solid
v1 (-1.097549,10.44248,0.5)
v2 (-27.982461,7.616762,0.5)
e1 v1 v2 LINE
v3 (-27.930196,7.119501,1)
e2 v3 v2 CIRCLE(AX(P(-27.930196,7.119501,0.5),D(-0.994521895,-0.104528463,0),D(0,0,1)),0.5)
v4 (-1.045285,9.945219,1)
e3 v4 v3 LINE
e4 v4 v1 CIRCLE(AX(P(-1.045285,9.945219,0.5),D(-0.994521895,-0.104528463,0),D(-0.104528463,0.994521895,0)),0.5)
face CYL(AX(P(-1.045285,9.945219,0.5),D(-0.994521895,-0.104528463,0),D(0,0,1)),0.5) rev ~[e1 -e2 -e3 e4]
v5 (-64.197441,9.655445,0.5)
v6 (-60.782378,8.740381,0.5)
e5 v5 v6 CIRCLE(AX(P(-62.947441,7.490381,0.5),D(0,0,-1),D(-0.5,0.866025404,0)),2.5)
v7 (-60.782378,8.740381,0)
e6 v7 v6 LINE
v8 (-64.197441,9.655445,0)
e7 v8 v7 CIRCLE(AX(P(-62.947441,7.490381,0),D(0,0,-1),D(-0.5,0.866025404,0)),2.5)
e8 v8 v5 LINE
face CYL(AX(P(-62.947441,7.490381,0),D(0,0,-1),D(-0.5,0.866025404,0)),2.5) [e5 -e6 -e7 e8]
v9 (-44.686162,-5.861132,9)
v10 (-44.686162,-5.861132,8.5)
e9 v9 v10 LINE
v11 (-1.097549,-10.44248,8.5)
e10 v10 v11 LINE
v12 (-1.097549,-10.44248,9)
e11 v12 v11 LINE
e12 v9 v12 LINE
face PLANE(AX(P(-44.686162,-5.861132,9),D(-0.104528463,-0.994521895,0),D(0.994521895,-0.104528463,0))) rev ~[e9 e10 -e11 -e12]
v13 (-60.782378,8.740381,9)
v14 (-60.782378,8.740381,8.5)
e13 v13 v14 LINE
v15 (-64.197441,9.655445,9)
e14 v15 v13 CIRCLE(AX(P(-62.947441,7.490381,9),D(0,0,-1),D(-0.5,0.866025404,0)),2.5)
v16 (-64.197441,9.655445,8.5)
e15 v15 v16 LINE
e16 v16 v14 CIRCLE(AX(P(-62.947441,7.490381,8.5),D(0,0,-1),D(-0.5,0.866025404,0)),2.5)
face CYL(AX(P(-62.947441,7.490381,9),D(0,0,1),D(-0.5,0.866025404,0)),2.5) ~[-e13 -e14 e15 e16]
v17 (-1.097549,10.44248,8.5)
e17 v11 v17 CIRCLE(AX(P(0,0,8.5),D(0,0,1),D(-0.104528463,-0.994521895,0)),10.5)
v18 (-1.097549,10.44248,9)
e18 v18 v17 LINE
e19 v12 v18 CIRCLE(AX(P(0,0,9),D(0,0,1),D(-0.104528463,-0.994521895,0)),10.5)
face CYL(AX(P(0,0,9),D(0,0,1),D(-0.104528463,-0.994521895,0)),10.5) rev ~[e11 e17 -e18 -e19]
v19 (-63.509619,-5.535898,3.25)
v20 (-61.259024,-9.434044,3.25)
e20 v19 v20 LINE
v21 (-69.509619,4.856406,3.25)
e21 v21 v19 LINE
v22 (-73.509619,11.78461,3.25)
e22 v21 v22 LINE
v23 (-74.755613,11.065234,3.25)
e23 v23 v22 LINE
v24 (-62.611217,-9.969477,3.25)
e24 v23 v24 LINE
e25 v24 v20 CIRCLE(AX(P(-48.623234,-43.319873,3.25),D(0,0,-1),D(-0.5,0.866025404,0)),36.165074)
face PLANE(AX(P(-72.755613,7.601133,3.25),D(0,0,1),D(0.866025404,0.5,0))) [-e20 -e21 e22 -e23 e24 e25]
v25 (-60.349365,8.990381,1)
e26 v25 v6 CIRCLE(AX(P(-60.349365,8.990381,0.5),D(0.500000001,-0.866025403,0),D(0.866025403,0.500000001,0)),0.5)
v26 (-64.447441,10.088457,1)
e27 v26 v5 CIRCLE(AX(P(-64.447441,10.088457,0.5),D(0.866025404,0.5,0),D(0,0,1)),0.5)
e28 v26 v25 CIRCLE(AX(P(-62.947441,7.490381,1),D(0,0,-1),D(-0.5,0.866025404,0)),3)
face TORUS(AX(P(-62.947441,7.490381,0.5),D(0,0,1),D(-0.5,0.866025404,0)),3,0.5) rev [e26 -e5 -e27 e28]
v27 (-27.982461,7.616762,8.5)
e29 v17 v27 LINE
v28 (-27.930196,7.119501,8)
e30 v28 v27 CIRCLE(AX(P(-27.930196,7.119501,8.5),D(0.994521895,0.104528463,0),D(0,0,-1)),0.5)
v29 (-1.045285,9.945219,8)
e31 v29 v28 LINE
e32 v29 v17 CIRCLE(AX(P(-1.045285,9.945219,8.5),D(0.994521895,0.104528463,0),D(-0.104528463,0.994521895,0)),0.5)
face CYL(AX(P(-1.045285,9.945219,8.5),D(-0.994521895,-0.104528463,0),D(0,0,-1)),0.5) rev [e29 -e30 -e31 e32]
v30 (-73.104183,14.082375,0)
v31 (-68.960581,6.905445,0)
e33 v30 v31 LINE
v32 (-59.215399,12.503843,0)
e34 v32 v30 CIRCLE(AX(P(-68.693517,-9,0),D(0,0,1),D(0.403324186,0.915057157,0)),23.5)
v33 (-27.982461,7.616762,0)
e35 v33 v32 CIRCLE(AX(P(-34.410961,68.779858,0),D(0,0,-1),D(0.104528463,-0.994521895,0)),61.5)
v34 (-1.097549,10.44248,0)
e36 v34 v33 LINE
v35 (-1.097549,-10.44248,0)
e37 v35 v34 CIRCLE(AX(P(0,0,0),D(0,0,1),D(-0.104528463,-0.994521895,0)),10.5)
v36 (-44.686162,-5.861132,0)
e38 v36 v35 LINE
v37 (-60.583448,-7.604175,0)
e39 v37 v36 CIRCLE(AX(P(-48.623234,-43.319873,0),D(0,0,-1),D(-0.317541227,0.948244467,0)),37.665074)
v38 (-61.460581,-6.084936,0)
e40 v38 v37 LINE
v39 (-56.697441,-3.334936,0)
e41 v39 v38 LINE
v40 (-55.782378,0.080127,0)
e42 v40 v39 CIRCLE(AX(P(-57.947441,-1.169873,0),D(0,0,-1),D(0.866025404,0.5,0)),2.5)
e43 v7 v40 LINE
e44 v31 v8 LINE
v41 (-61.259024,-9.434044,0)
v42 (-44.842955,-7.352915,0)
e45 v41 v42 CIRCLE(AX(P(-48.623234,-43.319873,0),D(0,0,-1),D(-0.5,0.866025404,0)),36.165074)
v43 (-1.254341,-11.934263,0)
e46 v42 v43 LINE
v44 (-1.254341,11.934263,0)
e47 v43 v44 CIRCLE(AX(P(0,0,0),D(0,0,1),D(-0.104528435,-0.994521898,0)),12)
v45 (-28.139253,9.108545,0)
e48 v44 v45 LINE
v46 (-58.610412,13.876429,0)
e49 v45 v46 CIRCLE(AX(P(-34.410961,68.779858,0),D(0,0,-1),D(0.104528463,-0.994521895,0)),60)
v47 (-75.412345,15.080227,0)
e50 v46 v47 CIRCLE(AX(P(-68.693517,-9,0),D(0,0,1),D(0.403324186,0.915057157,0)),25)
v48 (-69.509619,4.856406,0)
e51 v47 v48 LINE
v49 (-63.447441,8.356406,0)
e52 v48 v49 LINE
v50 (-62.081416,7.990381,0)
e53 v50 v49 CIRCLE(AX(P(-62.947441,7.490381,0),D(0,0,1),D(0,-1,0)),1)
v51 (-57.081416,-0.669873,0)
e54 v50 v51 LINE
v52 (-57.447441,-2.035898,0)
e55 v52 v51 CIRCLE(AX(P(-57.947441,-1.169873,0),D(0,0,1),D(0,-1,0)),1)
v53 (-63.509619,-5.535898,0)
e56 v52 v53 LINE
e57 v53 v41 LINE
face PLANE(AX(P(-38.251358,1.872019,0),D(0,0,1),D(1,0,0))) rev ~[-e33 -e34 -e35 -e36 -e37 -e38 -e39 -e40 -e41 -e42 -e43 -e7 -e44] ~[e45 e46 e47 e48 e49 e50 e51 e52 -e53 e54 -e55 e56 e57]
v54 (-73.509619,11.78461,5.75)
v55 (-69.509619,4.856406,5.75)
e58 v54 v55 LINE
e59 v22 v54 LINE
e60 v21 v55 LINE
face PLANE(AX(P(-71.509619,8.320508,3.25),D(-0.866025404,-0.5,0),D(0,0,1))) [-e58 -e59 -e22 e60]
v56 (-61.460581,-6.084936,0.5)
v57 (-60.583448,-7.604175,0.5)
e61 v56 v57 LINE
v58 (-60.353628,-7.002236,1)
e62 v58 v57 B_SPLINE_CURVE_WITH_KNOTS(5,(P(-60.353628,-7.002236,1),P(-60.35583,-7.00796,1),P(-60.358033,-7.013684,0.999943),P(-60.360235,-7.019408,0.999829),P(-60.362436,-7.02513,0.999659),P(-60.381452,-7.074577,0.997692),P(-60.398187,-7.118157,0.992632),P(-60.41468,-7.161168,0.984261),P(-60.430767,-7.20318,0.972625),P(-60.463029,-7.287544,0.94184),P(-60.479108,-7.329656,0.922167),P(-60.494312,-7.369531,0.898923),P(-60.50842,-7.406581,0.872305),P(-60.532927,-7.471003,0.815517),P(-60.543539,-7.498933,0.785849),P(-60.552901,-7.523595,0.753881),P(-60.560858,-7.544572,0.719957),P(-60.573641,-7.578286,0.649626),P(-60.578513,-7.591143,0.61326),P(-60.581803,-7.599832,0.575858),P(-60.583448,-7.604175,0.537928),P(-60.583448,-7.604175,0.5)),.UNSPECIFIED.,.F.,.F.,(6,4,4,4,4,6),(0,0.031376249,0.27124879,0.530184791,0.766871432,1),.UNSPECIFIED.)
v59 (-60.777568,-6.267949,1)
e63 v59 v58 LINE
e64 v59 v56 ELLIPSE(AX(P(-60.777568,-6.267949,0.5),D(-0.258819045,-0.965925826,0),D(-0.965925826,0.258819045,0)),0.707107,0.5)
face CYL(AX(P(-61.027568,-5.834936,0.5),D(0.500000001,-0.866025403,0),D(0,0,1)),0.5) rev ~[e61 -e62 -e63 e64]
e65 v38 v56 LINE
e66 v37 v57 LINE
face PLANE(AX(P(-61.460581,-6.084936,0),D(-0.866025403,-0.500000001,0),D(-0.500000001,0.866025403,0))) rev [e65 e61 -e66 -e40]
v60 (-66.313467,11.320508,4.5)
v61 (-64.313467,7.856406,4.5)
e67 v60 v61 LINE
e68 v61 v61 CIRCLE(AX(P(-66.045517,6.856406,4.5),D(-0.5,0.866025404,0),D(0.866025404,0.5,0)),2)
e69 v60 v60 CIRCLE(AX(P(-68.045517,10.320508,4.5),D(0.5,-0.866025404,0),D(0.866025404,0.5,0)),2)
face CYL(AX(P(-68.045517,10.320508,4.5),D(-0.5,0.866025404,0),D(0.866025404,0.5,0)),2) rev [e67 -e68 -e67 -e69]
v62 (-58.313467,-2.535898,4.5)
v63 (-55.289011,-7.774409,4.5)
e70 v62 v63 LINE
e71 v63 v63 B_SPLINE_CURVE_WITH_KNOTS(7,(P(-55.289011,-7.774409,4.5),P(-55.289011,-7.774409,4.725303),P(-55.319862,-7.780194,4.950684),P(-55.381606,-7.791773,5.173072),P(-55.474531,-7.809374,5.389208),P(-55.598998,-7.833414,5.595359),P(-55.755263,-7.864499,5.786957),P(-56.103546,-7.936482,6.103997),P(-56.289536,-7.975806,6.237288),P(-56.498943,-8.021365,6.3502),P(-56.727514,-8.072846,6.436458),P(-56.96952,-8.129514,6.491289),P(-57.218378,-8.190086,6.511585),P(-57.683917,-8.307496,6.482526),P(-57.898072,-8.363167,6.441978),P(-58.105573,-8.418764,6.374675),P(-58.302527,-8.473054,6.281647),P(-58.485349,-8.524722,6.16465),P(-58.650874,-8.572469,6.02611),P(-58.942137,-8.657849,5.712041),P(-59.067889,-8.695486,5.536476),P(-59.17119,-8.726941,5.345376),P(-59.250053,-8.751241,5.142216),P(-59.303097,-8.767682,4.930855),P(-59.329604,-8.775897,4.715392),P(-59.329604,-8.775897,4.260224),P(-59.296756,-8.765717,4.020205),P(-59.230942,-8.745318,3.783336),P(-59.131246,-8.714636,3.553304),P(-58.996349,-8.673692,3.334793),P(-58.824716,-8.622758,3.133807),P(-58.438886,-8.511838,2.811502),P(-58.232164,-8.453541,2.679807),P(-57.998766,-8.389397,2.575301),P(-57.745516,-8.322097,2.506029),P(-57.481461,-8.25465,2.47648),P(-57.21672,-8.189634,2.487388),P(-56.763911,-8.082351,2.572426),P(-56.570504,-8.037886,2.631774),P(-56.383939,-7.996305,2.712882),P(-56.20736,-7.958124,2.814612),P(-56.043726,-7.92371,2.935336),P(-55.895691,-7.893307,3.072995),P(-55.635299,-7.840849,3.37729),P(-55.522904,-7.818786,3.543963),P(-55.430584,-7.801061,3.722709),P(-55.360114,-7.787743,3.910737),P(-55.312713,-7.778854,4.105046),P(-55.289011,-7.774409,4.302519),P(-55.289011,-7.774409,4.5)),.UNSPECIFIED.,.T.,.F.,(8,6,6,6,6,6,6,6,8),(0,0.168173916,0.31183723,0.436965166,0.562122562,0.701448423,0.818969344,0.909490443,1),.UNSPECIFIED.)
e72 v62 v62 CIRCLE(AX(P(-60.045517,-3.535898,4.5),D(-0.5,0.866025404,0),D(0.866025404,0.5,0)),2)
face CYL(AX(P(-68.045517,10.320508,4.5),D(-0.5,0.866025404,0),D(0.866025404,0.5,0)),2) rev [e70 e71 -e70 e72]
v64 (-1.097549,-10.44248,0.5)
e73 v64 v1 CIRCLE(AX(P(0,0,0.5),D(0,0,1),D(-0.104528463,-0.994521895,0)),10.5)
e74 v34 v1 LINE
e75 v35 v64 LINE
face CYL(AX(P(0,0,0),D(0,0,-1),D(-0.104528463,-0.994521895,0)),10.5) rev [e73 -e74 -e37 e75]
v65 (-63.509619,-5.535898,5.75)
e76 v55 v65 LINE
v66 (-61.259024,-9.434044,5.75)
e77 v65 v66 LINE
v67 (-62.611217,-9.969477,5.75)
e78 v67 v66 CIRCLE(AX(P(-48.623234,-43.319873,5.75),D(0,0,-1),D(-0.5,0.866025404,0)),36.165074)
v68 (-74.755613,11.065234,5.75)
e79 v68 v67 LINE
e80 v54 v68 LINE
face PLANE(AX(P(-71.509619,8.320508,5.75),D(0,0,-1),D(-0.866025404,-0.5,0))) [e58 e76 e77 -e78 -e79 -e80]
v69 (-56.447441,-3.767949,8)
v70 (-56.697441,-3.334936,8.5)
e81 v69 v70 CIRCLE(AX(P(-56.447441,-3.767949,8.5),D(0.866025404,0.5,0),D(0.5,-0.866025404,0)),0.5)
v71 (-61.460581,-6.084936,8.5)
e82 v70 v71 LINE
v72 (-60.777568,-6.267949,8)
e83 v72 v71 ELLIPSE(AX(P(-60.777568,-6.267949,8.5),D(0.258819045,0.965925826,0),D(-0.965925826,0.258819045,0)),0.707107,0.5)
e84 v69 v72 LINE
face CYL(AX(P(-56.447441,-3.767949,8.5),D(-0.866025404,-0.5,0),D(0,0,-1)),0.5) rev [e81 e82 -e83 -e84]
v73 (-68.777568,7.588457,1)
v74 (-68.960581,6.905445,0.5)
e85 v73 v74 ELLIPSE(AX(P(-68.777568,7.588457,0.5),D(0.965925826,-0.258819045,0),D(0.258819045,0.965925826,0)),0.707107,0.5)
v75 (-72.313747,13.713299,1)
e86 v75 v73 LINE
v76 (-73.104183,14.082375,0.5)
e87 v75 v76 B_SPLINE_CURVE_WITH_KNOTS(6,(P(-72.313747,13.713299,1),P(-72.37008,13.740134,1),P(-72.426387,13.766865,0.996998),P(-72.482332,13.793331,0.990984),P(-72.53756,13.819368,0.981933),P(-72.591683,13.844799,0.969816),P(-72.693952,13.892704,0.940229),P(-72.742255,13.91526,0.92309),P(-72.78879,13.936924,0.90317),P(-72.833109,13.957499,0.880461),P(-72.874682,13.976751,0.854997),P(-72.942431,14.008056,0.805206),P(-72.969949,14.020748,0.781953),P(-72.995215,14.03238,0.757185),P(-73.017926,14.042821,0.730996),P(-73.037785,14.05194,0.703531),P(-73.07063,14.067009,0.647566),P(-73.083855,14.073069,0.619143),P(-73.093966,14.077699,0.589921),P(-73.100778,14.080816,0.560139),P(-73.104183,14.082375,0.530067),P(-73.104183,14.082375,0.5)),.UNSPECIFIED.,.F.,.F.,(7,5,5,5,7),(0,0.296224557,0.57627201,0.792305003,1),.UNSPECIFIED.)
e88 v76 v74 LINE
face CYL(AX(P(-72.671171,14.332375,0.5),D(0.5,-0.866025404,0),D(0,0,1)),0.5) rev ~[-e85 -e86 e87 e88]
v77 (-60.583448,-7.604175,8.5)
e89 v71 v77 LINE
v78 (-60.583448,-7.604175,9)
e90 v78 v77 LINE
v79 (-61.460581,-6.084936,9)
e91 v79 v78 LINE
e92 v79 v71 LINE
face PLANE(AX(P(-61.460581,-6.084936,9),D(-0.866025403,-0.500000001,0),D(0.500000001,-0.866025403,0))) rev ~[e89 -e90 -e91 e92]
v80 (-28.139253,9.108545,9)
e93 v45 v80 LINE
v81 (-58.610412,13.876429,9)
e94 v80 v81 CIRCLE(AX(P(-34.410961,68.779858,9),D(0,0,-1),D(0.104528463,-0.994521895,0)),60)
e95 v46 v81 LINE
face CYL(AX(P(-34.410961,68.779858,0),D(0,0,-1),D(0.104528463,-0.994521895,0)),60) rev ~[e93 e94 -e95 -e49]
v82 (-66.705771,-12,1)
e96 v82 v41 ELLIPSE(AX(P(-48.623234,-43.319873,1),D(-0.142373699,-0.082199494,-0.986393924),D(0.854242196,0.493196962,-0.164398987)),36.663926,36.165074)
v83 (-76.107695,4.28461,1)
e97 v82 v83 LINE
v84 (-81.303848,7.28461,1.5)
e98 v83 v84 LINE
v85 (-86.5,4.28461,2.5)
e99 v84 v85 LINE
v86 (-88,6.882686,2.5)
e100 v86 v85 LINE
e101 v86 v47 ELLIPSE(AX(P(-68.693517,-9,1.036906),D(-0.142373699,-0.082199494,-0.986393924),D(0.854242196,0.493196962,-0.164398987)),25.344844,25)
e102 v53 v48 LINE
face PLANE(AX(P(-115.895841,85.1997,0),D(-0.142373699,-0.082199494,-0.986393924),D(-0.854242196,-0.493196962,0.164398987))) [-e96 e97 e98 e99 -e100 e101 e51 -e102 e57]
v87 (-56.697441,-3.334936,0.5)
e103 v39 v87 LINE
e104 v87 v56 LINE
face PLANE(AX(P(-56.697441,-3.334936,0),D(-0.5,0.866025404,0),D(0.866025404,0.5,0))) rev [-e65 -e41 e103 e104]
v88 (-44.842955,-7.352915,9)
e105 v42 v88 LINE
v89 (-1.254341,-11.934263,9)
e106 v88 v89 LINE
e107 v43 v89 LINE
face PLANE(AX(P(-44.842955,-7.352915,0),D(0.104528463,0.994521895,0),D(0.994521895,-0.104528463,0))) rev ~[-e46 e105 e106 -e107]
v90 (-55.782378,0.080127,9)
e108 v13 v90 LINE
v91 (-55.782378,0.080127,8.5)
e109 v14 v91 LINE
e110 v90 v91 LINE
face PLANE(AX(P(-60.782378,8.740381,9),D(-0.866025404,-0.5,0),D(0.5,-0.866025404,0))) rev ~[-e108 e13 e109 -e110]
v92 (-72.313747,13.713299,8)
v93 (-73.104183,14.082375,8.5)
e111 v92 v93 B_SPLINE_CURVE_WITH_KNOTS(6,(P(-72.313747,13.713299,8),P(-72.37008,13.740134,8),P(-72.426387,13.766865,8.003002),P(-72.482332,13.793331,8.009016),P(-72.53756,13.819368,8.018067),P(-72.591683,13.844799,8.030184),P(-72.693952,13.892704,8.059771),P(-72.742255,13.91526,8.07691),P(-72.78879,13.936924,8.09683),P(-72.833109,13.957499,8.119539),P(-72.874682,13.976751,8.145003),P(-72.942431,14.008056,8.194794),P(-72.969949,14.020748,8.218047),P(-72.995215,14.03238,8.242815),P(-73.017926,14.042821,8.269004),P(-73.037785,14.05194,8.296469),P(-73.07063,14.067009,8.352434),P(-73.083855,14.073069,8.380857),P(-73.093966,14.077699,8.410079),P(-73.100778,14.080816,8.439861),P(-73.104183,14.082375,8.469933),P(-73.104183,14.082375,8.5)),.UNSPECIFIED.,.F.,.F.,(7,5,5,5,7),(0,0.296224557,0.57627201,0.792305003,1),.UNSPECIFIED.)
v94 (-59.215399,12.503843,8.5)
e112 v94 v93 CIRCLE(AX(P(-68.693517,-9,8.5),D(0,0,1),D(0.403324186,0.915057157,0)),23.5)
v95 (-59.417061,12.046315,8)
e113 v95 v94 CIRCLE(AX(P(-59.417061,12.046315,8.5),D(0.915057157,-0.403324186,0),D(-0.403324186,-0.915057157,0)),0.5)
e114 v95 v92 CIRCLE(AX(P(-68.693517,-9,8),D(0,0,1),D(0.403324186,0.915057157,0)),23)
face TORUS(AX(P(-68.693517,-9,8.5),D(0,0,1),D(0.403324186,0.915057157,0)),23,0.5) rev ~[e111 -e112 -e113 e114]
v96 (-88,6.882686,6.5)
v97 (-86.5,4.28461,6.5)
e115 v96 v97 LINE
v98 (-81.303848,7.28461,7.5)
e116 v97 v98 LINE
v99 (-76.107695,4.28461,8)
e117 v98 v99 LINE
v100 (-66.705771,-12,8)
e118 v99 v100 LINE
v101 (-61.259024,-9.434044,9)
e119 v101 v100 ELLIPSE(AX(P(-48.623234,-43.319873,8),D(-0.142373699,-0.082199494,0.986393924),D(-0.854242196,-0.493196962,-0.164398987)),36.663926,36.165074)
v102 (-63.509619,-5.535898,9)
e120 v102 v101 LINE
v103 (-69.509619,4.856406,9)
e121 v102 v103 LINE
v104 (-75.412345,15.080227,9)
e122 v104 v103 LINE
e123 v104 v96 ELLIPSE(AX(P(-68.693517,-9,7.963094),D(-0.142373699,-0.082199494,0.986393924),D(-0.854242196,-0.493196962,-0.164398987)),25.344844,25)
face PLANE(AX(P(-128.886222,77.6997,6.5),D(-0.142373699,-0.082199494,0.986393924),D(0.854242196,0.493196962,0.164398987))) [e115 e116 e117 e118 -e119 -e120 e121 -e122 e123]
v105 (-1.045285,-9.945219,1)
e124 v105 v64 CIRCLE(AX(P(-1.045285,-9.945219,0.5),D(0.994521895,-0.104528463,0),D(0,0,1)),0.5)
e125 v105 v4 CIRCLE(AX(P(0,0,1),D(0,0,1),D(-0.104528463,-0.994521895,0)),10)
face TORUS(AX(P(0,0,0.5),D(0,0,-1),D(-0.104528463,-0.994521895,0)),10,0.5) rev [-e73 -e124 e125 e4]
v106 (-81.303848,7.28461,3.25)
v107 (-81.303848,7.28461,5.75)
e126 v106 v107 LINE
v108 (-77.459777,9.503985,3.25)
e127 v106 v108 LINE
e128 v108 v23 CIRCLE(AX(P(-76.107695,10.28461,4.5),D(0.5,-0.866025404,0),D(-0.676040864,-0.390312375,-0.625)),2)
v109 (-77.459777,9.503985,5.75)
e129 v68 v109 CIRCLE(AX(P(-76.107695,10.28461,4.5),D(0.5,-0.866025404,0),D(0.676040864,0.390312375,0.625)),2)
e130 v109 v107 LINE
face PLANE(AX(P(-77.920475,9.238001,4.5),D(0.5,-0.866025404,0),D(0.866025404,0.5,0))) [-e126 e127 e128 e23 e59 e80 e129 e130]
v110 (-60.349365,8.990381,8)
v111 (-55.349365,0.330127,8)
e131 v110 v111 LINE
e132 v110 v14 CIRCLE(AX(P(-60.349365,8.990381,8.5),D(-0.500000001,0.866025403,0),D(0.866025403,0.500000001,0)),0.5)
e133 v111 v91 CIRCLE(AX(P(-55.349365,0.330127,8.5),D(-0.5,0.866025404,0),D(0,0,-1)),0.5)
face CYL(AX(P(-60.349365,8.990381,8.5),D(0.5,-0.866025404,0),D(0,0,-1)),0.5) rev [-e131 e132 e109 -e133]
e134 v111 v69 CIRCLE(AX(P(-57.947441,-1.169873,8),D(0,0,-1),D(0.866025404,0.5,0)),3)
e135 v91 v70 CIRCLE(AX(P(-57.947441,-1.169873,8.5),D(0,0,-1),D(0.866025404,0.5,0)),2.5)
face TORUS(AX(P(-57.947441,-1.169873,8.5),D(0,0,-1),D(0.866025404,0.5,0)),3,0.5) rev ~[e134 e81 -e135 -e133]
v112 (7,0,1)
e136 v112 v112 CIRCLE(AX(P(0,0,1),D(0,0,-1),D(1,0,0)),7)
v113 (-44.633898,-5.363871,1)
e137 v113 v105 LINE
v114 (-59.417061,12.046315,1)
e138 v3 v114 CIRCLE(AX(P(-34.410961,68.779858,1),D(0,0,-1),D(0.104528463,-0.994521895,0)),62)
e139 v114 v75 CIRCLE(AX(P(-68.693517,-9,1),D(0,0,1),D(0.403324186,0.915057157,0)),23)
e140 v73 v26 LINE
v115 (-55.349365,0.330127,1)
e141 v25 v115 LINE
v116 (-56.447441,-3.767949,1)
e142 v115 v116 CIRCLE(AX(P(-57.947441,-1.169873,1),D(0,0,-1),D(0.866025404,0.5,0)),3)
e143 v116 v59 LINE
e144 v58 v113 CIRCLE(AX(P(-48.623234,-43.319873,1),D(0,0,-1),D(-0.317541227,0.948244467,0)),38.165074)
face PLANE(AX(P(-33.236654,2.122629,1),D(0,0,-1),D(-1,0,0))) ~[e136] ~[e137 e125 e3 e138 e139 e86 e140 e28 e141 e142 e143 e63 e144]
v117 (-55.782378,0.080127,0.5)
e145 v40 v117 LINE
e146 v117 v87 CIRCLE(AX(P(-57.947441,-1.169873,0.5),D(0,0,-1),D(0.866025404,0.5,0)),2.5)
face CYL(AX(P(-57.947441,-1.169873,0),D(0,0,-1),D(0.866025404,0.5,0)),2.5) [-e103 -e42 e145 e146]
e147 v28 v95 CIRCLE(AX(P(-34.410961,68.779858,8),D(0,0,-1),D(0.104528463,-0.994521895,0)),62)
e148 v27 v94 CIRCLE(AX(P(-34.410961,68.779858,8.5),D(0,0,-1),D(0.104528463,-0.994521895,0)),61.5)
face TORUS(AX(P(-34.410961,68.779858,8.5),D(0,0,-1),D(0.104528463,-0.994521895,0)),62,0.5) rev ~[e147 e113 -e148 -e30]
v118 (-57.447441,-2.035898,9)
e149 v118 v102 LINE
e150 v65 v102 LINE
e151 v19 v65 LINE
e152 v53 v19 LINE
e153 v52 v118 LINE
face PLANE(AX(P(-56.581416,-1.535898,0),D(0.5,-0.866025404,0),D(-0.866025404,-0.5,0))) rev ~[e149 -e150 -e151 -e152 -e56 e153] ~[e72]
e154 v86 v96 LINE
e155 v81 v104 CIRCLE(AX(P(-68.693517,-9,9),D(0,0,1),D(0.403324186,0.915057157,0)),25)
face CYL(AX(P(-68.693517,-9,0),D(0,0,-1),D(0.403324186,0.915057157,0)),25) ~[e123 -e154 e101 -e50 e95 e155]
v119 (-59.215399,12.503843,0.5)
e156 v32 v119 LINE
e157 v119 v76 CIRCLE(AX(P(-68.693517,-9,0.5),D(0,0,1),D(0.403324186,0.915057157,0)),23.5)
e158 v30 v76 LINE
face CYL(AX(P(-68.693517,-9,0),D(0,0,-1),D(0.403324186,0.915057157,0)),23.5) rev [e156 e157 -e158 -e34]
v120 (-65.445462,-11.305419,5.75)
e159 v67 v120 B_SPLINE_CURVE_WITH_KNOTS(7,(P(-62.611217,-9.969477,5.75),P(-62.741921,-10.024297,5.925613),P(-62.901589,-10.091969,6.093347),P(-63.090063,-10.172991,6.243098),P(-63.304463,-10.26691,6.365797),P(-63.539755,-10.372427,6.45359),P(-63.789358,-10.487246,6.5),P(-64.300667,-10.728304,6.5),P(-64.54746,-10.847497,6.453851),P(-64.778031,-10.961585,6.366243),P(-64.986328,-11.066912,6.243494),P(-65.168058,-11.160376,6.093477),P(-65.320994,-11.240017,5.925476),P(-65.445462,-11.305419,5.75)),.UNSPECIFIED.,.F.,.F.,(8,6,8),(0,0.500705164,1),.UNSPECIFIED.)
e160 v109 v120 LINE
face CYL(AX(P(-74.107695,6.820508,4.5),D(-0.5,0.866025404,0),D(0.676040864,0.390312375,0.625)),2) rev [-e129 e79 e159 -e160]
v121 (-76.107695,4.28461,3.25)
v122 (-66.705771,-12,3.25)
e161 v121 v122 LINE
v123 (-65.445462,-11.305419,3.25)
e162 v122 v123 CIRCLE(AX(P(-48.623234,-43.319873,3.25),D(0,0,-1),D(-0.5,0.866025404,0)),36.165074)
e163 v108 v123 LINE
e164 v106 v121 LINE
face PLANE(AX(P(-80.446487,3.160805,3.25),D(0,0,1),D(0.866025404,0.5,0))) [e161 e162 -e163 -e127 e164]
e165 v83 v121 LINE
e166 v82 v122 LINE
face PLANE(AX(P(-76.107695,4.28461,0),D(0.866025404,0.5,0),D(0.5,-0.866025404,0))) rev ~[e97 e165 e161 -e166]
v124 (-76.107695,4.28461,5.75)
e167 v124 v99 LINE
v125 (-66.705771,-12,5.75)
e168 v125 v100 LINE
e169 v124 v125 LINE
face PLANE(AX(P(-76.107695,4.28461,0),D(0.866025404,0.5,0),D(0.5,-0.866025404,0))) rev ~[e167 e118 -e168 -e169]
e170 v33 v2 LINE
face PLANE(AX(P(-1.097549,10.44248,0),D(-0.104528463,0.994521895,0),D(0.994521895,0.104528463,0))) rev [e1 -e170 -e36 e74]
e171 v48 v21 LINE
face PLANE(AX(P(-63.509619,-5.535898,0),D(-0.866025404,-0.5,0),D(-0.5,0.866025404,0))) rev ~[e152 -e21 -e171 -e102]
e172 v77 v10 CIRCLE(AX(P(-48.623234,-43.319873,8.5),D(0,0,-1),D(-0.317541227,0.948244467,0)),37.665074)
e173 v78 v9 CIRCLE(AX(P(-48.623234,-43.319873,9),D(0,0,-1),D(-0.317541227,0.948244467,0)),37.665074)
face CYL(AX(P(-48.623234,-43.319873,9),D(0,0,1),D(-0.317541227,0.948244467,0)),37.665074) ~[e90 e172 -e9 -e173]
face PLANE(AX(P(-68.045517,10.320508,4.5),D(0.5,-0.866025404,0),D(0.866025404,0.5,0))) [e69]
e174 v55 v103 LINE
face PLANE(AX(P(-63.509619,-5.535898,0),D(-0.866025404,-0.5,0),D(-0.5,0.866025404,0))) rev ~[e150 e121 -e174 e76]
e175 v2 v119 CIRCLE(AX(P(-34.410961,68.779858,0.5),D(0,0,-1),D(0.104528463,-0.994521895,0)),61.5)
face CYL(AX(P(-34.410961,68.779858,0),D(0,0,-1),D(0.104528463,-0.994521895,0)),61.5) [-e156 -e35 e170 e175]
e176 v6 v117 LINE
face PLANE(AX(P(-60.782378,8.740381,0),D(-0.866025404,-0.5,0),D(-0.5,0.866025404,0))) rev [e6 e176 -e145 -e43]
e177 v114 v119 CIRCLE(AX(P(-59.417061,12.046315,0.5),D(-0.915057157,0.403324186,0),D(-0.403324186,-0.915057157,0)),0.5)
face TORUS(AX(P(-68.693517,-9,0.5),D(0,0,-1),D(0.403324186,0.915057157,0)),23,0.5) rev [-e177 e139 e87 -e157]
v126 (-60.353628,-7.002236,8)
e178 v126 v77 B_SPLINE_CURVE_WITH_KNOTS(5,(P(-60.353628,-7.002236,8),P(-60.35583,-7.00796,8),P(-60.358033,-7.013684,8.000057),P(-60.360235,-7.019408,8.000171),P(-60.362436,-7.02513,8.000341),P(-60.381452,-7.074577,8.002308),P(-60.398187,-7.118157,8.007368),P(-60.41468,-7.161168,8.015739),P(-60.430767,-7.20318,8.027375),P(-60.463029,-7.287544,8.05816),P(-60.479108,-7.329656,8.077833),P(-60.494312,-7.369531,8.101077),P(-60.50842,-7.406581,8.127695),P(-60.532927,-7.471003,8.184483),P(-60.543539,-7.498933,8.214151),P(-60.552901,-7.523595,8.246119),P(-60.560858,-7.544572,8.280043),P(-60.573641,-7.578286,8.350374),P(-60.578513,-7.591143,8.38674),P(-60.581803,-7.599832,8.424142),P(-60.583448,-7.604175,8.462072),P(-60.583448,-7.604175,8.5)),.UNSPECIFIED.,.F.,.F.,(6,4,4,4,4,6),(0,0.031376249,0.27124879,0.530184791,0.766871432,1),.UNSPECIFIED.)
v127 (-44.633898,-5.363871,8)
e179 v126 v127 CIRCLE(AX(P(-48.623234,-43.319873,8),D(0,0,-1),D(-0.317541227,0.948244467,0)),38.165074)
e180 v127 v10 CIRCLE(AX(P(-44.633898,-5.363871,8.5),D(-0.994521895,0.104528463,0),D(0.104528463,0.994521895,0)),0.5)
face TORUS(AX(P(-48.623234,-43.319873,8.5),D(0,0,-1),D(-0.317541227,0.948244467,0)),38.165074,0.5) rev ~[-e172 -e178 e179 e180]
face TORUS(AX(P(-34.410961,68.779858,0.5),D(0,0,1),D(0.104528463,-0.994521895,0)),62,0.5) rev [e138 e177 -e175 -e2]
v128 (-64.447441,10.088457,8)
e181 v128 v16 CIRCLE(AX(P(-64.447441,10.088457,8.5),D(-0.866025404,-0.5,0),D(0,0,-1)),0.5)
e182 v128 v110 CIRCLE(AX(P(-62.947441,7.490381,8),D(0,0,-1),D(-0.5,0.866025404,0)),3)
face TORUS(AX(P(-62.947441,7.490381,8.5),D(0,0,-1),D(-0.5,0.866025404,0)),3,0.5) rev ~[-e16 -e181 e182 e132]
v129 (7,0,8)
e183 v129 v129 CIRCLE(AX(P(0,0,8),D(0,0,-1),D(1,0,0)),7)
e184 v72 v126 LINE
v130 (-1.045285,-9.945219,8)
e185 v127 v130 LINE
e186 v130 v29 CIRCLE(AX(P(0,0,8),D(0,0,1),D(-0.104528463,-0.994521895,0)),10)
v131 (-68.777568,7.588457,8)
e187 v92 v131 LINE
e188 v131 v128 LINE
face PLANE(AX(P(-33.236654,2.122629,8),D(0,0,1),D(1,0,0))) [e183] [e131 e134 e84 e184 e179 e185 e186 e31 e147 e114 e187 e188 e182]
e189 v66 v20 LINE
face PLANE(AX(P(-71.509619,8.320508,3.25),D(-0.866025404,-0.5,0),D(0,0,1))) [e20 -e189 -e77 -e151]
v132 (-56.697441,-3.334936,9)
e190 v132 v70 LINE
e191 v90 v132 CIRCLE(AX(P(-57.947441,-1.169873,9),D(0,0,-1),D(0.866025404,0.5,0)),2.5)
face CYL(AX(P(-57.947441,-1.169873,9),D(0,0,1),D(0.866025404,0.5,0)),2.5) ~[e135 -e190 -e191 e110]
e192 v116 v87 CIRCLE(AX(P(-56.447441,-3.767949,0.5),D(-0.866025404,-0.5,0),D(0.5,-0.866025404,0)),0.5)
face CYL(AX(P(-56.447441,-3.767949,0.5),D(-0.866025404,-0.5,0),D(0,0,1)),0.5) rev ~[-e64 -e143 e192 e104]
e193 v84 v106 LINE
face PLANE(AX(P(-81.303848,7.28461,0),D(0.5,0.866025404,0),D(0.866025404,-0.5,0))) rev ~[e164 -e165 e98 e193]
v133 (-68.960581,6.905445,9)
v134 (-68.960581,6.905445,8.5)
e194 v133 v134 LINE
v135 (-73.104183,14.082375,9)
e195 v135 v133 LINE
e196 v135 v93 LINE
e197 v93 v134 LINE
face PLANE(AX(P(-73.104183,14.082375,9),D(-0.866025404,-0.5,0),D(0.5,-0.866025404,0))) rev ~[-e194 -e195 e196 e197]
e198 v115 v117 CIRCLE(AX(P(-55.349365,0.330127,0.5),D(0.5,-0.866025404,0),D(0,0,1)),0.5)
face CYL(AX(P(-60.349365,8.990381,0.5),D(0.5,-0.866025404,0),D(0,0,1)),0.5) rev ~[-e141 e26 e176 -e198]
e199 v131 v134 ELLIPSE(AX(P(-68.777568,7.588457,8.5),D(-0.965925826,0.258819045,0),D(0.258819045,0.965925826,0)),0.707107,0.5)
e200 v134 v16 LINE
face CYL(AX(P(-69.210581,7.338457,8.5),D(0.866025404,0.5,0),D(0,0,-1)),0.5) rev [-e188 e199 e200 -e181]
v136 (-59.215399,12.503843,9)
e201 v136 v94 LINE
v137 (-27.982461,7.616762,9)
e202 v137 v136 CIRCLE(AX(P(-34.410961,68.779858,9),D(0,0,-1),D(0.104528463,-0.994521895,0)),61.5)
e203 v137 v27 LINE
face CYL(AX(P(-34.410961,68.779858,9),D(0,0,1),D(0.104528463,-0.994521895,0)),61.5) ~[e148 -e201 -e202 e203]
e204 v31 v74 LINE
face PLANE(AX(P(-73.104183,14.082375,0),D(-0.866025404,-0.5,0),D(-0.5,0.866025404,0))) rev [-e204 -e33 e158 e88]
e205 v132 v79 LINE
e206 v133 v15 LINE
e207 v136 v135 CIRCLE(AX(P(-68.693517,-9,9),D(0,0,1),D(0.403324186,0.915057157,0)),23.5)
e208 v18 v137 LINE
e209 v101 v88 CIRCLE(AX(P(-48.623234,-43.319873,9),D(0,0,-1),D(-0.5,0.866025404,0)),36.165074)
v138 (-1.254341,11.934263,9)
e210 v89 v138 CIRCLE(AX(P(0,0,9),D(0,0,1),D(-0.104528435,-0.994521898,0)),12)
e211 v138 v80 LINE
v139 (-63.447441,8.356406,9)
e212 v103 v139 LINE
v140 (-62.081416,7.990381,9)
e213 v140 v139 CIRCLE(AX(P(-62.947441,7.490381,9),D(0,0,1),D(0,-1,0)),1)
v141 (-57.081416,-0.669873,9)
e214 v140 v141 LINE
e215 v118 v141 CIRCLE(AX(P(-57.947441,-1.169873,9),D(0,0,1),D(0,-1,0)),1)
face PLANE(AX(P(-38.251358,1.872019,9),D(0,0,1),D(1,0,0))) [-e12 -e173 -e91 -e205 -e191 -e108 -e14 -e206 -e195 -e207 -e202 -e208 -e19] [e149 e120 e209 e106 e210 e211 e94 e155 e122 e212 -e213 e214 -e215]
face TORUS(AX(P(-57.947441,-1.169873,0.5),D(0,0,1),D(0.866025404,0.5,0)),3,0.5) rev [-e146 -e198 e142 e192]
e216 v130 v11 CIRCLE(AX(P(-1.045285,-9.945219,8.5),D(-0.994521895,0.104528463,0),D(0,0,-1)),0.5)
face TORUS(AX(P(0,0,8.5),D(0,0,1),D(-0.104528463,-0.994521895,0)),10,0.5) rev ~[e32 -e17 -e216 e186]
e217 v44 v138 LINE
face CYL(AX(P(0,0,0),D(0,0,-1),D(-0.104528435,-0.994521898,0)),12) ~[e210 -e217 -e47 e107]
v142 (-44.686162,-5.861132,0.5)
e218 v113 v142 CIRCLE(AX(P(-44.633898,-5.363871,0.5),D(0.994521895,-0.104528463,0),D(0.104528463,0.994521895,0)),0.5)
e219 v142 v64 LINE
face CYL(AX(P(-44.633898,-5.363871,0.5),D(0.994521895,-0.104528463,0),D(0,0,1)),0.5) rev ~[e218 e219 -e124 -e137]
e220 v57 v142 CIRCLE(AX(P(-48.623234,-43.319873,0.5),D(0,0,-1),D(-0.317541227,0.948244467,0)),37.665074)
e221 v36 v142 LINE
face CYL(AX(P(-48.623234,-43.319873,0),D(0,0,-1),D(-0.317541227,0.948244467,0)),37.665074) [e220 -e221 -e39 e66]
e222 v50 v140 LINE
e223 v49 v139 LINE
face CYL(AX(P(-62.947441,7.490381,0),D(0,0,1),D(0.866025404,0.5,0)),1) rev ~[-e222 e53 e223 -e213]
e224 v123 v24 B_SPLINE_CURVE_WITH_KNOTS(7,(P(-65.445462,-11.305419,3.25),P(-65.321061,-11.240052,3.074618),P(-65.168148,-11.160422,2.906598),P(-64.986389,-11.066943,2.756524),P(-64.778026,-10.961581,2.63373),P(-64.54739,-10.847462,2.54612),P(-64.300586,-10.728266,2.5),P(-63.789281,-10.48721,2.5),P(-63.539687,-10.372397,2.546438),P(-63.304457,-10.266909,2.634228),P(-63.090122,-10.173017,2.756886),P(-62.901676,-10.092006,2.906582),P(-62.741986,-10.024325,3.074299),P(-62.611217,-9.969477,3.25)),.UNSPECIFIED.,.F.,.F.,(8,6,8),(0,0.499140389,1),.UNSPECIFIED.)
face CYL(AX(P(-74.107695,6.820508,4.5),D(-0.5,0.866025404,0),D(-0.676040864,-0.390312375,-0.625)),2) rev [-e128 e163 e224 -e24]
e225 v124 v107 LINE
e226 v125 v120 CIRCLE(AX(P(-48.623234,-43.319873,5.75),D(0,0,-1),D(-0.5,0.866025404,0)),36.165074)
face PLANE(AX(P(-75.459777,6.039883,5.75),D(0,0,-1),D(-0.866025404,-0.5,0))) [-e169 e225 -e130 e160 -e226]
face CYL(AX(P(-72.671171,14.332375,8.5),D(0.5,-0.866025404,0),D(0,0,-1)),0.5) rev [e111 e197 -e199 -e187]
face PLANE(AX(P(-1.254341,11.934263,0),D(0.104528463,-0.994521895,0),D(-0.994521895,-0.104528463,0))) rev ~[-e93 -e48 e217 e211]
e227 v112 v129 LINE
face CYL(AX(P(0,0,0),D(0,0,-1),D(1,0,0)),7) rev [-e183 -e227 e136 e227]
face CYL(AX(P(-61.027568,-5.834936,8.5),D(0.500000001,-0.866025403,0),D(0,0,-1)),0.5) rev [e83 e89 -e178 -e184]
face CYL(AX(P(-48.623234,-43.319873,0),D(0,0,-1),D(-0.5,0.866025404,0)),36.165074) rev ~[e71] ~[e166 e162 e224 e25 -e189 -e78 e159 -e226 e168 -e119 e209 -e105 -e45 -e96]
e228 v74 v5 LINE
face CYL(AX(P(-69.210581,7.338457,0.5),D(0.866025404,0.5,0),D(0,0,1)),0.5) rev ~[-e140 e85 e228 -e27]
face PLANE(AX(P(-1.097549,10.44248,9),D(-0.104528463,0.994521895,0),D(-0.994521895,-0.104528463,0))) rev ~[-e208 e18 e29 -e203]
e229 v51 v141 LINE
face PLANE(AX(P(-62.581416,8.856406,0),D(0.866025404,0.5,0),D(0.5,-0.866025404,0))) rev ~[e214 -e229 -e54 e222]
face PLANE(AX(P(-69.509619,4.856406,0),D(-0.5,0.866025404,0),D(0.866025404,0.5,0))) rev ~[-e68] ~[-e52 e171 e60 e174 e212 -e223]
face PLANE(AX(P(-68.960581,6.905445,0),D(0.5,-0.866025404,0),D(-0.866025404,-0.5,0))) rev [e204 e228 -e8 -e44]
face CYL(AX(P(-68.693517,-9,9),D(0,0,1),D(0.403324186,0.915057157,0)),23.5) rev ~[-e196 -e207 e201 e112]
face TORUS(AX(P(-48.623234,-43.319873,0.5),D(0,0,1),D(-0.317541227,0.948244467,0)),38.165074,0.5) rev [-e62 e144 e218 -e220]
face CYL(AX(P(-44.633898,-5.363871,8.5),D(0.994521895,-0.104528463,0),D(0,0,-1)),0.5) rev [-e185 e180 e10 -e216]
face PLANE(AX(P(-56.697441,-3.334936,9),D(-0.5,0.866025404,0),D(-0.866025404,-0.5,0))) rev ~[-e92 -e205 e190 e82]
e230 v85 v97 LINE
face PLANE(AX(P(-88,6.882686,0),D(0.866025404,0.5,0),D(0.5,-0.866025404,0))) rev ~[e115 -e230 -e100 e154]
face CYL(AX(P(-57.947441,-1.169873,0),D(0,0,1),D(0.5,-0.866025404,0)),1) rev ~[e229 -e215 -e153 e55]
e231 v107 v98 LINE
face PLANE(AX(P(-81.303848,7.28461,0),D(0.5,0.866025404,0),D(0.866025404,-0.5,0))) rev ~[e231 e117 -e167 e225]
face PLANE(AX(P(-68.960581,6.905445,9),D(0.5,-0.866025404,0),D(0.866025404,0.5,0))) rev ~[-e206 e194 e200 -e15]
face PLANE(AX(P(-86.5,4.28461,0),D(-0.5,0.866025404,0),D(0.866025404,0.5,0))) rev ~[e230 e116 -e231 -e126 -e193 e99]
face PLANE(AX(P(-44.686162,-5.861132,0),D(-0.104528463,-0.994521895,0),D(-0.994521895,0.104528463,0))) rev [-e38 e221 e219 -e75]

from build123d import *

# Parameters (mm, degrees)
SKETCH1_R               = 7
BOSS_EXTRUDE1_DEPTH     = 9
CUT_EXTRUDE1_DEPTH      = 83.87446055
CUT_EXTRUDE1_DEPTH_BACK = 4
SKETCH2_R               = 2
CUT_EXTRUDE2_START      = -8
CUT_EXTRUDE2_DEPTH      = 8
CUT_EXTRUDE3_DEPTH      = 84.772444126
CUT_EXTRUDE3_DEPTH_BACK = 84.772444126
FILLET1_R               = 1
CUT_EXTRUDE6_DEPTH      = 1
FILLET2_R               = 0.5
FILLET2_OF_MIRROR1_R    = 0.5


with BuildPart() as part:
    # Sketch1 → Boss-Extrude1 (new body)
    with BuildSketch(Plane.XY):
        with BuildLine():
            Line((-44.842954804, -7.352914883), (-1.254341216, -11.934262781))
            ThreePointArc((-1.254341216, -11.934262781), (12, 0), (-1.254341216, 11.934262781))
            Line((-1.254341216, 11.934262781), (-28.139253345, 9.108544651))
            ThreePointArc((-28.139253345, 9.108544651), (-43.686422074, 9.501145293), (-58.610412286, 13.876428933))
            ThreePointArc((-58.610412286, 13.876428933), (-74.481071491, 15.320859611), (-88, 6.882685902))
            Line((-88, 6.882685902), (-86.5, 4.284609691))
            Line((-86.5, 4.284609691), (-81.303847577, 7.284609691))
            Line((-81.303847577, 7.284609691), (-76.107695155, 4.284609691))
            Line((-76.107695155, 4.284609691), (-66.705771366, -12))
            ThreePointArc((-66.705771366, -12), (-56.142376072, -7.945092459), (-44.842954804, -7.352914883))
        make_face()
        Polygon((-56.581415713, -1.535898385), (-63.509618943, -5.535898385), (-69.509618943, 4.856406461), (-62.581415713, 8.856406461), align=None, mode=Mode.SUBTRACT)
        Circle(SKETCH1_R, mode=Mode.SUBTRACT)
    extrude(amount=BOSS_EXTRUDE1_DEPTH)

    # Sketch2 → Cut-Extrude1 (cut, two sides: drawn at the far end of the back side and taken through both)
    with BuildSketch(Plane(origin=(-19.480290419, 33.740852752, 0), x_dir=(0.8660254037844365, 0.5000000000000039, 0), z_dir=(0.5000000000000038, -0.8660254037844364, 0)).offset(-CUT_EXTRUDE1_DEPTH_BACK)):
        with BuildLine():
            Line((-59.207643082, 3.25), (-57.768892582, 3.25))
            Line((-57.768892582, 3.25), (-57.768892582, 5.75))
            Line((-57.768892582, 5.75), (-59.207643082, 5.75))
            ThreePointArc((-59.207643082, 5.75), (-60.768892582, 6.5), (-62.330142082, 5.75))
            Line((-62.330142082, 5.75), (-68.08829873, 5.75))
            Line((-68.08829873, 5.75), (-68.08829873, 3.25))
            Line((-68.08829873, 3.25), (-62.330142082, 3.25))
            ThreePointArc((-62.330142082, 3.25), (-60.768892582, 2.5), (-59.207643082, 3.25))
        make_face()
        with Locations((-53.768892582, 4.5)):
            Circle(SKETCH2_R)
    extrude(amount=CUT_EXTRUDE1_DEPTH + CUT_EXTRUDE1_DEPTH_BACK, mode=Mode.SUBTRACT)

    # Sketch2_4 → Cut-Extrude2 (cut)
    with BuildSketch(Plane(origin=(-19.480290419, 33.740852752, 0), x_dir=(0.8660254037844365, 0.5000000000000039, 0), z_dir=(0.5000000000000038, -0.8660254037844364, 0)).offset(CUT_EXTRUDE2_START)):
        with BuildLine():
            Line((-59.207643082, 3.25), (-57.768892582, 3.25))
            Line((-57.768892582, 3.25), (-57.768892582, 5.75))
            Line((-57.768892582, 5.75), (-59.207643082, 5.75))
            ThreePointArc((-59.207643082, 5.75), (-60.768892582, 6.5), (-62.330142082, 5.75))
            Line((-62.330142082, 5.75), (-68.08829873, 5.75))
            Line((-68.08829873, 5.75), (-68.08829873, 3.25))
            Line((-68.08829873, 3.25), (-62.330142082, 3.25))
            ThreePointArc((-62.330142082, 3.25), (-60.768892582, 2.5), (-59.207643082, 3.25))
        make_face()
    extrude(amount=CUT_EXTRUDE2_DEPTH, mode=Mode.SUBTRACT)

    # Sketch3 → Cut-Extrude3 (cut, two sides: drawn at the far end of the back side and taken through both)
    with BuildSketch(Plane(origin=(-23.480290419, 40.669055982, 0), x_dir=(0.8660254037844364, 0.5000000000000041, 0), z_dir=(0.5000000000000041, -0.8660254037844364, 0)).offset(-CUT_EXTRUDE3_DEPTH_BACK)):
        Polygon((-57.768892582, 9), (-72.768892582, 9), (-72.768892582, 6.5), align=None)
        Polygon((-57.768892582, 0), (-72.768892582, 2.5), (-72.768892582, 0), align=None)
    extrude(amount=CUT_EXTRUDE3_DEPTH + CUT_EXTRUDE3_DEPTH_BACK, mode=Mode.SUBTRACT)

    # Fillet1
    fillet1_edges = [part.edges().sort_by_distance(p)[0] for p in [
        (-56.581415713, -1.535898385, 4.5),
        (-62.581415713, 8.856406461, 4.5),
    ]]
    fillet(fillet1_edges, radius=FILLET1_R)

    # Sketch5 → Cut-Extrude6 (cut)
    with BuildSketch(Plane.XY.offset(9)):
        with BuildLine():
            Line((-61.460580838, -6.084936491), (-60.58344819, -7.6041748))
            ThreePointArc((-60.58344819, -7.6041748), (-52.728383532, -5.879179053), (-44.686162109, -5.86113204))
            Line((-44.686162109, -5.86113204), (-1.097548864, -10.442479901))
            ThreePointArc((-1.097548864, -10.442479901), (10.5, 0), (-1.097548864, 10.442479901))
            Line((-1.097548864, 10.442479901), (-27.98246065, 7.616761808))
            ThreePointArc((-27.98246065, 7.616761808), (-43.918308598, 8.019177466), (-59.215398565, 12.503843197))
            ThreePointArc((-59.215398565, 12.503843197), (-66.039706904, 14.349674352), (-73.104183378, 14.082374693))
            Line((-73.104183378, 14.082374693), (-68.960580838, 6.905444566))
            Line((-68.960580838, 6.905444566), (-64.197441117, 9.655444566))
            ThreePointArc((-64.197441117, 9.655444566), (-62.300393504, 9.905195622), (-60.782377607, 8.740381057))
            Line((-60.782377607, 8.740381057), (-55.782377607, 0.080127019))
            ThreePointArc((-55.782377607, 0.080127019), (-55.532626551, -1.816920594), (-56.697441117, -3.334936491))
            Line((-56.697441117, -3.334936491), (-61.460580838, -6.084936491))
        make_face()
    cut_extrude6 = extrude(amount=-CUT_EXTRUDE6_DEPTH, mode=Mode.SUBTRACT)

    # Fillet2
    fillet2_edges = [part.edges().sort_by_distance(p)[0] for p in [
        (-55.532626551, -1.816920594, 8),
        (-58.282377607, 4.410254038, 8),
        (-62.300393504, 9.905195622, 8),
        (-66.579010977, 8.280444566, 8),
        (-71.032382108, 10.49390963, 8),
        (-66.039706904, 14.349674352, 8),
        (-14.540004757, 9.029620855, 8),
        (10.5, 0, 8),
        (-22.891855486, -8.151805971, 8),
        (-52.728383532, -5.879179053, 8),
        (-59.079010977, -4.709936491, 8),
        (-43.918308598, 8.019177466, 8),
        (-61.022014514, -6.844555645, 8),
    ]]
    fillet(fillet2_edges, radius=FILLET2_R)

    # Mirror1: Cut-Extrude6 across plane
    add(cut_extrude6.mirror(Plane.XY.offset(4.5)), mode=Mode.SUBTRACT)

    # Fillet2 of Mirror1
    fillet2_of_mirror1_edges = [part.edges().sort_by_distance(p)[0] for p in [
        (-55.532626551, -1.816920594, 1),
        (-58.282377607, 4.410254038, 1),
        (-62.300393504, 9.905195622, 1),
        (-66.579010977, 8.280444566, 1),
        (-71.032382108, 10.49390963, 1),
        (-66.039706904, 14.349674352, 1),
        (-14.540004757, 9.029620855, 1),
        (10.5, 0, 1),
        (-22.891855486, -8.151805971, 1),
        (-52.728383532, -5.879179053, 1),
        (-59.079010977, -4.709936491, 1),
        (-43.918308598, 8.019177466, 1),
        (-61.022014514, -6.844555645, 1),
    ]]
    fillet(fillet2_of_mirror1_edges, radius=FILLET2_OF_MIRROR1_R)


solid = part.part
